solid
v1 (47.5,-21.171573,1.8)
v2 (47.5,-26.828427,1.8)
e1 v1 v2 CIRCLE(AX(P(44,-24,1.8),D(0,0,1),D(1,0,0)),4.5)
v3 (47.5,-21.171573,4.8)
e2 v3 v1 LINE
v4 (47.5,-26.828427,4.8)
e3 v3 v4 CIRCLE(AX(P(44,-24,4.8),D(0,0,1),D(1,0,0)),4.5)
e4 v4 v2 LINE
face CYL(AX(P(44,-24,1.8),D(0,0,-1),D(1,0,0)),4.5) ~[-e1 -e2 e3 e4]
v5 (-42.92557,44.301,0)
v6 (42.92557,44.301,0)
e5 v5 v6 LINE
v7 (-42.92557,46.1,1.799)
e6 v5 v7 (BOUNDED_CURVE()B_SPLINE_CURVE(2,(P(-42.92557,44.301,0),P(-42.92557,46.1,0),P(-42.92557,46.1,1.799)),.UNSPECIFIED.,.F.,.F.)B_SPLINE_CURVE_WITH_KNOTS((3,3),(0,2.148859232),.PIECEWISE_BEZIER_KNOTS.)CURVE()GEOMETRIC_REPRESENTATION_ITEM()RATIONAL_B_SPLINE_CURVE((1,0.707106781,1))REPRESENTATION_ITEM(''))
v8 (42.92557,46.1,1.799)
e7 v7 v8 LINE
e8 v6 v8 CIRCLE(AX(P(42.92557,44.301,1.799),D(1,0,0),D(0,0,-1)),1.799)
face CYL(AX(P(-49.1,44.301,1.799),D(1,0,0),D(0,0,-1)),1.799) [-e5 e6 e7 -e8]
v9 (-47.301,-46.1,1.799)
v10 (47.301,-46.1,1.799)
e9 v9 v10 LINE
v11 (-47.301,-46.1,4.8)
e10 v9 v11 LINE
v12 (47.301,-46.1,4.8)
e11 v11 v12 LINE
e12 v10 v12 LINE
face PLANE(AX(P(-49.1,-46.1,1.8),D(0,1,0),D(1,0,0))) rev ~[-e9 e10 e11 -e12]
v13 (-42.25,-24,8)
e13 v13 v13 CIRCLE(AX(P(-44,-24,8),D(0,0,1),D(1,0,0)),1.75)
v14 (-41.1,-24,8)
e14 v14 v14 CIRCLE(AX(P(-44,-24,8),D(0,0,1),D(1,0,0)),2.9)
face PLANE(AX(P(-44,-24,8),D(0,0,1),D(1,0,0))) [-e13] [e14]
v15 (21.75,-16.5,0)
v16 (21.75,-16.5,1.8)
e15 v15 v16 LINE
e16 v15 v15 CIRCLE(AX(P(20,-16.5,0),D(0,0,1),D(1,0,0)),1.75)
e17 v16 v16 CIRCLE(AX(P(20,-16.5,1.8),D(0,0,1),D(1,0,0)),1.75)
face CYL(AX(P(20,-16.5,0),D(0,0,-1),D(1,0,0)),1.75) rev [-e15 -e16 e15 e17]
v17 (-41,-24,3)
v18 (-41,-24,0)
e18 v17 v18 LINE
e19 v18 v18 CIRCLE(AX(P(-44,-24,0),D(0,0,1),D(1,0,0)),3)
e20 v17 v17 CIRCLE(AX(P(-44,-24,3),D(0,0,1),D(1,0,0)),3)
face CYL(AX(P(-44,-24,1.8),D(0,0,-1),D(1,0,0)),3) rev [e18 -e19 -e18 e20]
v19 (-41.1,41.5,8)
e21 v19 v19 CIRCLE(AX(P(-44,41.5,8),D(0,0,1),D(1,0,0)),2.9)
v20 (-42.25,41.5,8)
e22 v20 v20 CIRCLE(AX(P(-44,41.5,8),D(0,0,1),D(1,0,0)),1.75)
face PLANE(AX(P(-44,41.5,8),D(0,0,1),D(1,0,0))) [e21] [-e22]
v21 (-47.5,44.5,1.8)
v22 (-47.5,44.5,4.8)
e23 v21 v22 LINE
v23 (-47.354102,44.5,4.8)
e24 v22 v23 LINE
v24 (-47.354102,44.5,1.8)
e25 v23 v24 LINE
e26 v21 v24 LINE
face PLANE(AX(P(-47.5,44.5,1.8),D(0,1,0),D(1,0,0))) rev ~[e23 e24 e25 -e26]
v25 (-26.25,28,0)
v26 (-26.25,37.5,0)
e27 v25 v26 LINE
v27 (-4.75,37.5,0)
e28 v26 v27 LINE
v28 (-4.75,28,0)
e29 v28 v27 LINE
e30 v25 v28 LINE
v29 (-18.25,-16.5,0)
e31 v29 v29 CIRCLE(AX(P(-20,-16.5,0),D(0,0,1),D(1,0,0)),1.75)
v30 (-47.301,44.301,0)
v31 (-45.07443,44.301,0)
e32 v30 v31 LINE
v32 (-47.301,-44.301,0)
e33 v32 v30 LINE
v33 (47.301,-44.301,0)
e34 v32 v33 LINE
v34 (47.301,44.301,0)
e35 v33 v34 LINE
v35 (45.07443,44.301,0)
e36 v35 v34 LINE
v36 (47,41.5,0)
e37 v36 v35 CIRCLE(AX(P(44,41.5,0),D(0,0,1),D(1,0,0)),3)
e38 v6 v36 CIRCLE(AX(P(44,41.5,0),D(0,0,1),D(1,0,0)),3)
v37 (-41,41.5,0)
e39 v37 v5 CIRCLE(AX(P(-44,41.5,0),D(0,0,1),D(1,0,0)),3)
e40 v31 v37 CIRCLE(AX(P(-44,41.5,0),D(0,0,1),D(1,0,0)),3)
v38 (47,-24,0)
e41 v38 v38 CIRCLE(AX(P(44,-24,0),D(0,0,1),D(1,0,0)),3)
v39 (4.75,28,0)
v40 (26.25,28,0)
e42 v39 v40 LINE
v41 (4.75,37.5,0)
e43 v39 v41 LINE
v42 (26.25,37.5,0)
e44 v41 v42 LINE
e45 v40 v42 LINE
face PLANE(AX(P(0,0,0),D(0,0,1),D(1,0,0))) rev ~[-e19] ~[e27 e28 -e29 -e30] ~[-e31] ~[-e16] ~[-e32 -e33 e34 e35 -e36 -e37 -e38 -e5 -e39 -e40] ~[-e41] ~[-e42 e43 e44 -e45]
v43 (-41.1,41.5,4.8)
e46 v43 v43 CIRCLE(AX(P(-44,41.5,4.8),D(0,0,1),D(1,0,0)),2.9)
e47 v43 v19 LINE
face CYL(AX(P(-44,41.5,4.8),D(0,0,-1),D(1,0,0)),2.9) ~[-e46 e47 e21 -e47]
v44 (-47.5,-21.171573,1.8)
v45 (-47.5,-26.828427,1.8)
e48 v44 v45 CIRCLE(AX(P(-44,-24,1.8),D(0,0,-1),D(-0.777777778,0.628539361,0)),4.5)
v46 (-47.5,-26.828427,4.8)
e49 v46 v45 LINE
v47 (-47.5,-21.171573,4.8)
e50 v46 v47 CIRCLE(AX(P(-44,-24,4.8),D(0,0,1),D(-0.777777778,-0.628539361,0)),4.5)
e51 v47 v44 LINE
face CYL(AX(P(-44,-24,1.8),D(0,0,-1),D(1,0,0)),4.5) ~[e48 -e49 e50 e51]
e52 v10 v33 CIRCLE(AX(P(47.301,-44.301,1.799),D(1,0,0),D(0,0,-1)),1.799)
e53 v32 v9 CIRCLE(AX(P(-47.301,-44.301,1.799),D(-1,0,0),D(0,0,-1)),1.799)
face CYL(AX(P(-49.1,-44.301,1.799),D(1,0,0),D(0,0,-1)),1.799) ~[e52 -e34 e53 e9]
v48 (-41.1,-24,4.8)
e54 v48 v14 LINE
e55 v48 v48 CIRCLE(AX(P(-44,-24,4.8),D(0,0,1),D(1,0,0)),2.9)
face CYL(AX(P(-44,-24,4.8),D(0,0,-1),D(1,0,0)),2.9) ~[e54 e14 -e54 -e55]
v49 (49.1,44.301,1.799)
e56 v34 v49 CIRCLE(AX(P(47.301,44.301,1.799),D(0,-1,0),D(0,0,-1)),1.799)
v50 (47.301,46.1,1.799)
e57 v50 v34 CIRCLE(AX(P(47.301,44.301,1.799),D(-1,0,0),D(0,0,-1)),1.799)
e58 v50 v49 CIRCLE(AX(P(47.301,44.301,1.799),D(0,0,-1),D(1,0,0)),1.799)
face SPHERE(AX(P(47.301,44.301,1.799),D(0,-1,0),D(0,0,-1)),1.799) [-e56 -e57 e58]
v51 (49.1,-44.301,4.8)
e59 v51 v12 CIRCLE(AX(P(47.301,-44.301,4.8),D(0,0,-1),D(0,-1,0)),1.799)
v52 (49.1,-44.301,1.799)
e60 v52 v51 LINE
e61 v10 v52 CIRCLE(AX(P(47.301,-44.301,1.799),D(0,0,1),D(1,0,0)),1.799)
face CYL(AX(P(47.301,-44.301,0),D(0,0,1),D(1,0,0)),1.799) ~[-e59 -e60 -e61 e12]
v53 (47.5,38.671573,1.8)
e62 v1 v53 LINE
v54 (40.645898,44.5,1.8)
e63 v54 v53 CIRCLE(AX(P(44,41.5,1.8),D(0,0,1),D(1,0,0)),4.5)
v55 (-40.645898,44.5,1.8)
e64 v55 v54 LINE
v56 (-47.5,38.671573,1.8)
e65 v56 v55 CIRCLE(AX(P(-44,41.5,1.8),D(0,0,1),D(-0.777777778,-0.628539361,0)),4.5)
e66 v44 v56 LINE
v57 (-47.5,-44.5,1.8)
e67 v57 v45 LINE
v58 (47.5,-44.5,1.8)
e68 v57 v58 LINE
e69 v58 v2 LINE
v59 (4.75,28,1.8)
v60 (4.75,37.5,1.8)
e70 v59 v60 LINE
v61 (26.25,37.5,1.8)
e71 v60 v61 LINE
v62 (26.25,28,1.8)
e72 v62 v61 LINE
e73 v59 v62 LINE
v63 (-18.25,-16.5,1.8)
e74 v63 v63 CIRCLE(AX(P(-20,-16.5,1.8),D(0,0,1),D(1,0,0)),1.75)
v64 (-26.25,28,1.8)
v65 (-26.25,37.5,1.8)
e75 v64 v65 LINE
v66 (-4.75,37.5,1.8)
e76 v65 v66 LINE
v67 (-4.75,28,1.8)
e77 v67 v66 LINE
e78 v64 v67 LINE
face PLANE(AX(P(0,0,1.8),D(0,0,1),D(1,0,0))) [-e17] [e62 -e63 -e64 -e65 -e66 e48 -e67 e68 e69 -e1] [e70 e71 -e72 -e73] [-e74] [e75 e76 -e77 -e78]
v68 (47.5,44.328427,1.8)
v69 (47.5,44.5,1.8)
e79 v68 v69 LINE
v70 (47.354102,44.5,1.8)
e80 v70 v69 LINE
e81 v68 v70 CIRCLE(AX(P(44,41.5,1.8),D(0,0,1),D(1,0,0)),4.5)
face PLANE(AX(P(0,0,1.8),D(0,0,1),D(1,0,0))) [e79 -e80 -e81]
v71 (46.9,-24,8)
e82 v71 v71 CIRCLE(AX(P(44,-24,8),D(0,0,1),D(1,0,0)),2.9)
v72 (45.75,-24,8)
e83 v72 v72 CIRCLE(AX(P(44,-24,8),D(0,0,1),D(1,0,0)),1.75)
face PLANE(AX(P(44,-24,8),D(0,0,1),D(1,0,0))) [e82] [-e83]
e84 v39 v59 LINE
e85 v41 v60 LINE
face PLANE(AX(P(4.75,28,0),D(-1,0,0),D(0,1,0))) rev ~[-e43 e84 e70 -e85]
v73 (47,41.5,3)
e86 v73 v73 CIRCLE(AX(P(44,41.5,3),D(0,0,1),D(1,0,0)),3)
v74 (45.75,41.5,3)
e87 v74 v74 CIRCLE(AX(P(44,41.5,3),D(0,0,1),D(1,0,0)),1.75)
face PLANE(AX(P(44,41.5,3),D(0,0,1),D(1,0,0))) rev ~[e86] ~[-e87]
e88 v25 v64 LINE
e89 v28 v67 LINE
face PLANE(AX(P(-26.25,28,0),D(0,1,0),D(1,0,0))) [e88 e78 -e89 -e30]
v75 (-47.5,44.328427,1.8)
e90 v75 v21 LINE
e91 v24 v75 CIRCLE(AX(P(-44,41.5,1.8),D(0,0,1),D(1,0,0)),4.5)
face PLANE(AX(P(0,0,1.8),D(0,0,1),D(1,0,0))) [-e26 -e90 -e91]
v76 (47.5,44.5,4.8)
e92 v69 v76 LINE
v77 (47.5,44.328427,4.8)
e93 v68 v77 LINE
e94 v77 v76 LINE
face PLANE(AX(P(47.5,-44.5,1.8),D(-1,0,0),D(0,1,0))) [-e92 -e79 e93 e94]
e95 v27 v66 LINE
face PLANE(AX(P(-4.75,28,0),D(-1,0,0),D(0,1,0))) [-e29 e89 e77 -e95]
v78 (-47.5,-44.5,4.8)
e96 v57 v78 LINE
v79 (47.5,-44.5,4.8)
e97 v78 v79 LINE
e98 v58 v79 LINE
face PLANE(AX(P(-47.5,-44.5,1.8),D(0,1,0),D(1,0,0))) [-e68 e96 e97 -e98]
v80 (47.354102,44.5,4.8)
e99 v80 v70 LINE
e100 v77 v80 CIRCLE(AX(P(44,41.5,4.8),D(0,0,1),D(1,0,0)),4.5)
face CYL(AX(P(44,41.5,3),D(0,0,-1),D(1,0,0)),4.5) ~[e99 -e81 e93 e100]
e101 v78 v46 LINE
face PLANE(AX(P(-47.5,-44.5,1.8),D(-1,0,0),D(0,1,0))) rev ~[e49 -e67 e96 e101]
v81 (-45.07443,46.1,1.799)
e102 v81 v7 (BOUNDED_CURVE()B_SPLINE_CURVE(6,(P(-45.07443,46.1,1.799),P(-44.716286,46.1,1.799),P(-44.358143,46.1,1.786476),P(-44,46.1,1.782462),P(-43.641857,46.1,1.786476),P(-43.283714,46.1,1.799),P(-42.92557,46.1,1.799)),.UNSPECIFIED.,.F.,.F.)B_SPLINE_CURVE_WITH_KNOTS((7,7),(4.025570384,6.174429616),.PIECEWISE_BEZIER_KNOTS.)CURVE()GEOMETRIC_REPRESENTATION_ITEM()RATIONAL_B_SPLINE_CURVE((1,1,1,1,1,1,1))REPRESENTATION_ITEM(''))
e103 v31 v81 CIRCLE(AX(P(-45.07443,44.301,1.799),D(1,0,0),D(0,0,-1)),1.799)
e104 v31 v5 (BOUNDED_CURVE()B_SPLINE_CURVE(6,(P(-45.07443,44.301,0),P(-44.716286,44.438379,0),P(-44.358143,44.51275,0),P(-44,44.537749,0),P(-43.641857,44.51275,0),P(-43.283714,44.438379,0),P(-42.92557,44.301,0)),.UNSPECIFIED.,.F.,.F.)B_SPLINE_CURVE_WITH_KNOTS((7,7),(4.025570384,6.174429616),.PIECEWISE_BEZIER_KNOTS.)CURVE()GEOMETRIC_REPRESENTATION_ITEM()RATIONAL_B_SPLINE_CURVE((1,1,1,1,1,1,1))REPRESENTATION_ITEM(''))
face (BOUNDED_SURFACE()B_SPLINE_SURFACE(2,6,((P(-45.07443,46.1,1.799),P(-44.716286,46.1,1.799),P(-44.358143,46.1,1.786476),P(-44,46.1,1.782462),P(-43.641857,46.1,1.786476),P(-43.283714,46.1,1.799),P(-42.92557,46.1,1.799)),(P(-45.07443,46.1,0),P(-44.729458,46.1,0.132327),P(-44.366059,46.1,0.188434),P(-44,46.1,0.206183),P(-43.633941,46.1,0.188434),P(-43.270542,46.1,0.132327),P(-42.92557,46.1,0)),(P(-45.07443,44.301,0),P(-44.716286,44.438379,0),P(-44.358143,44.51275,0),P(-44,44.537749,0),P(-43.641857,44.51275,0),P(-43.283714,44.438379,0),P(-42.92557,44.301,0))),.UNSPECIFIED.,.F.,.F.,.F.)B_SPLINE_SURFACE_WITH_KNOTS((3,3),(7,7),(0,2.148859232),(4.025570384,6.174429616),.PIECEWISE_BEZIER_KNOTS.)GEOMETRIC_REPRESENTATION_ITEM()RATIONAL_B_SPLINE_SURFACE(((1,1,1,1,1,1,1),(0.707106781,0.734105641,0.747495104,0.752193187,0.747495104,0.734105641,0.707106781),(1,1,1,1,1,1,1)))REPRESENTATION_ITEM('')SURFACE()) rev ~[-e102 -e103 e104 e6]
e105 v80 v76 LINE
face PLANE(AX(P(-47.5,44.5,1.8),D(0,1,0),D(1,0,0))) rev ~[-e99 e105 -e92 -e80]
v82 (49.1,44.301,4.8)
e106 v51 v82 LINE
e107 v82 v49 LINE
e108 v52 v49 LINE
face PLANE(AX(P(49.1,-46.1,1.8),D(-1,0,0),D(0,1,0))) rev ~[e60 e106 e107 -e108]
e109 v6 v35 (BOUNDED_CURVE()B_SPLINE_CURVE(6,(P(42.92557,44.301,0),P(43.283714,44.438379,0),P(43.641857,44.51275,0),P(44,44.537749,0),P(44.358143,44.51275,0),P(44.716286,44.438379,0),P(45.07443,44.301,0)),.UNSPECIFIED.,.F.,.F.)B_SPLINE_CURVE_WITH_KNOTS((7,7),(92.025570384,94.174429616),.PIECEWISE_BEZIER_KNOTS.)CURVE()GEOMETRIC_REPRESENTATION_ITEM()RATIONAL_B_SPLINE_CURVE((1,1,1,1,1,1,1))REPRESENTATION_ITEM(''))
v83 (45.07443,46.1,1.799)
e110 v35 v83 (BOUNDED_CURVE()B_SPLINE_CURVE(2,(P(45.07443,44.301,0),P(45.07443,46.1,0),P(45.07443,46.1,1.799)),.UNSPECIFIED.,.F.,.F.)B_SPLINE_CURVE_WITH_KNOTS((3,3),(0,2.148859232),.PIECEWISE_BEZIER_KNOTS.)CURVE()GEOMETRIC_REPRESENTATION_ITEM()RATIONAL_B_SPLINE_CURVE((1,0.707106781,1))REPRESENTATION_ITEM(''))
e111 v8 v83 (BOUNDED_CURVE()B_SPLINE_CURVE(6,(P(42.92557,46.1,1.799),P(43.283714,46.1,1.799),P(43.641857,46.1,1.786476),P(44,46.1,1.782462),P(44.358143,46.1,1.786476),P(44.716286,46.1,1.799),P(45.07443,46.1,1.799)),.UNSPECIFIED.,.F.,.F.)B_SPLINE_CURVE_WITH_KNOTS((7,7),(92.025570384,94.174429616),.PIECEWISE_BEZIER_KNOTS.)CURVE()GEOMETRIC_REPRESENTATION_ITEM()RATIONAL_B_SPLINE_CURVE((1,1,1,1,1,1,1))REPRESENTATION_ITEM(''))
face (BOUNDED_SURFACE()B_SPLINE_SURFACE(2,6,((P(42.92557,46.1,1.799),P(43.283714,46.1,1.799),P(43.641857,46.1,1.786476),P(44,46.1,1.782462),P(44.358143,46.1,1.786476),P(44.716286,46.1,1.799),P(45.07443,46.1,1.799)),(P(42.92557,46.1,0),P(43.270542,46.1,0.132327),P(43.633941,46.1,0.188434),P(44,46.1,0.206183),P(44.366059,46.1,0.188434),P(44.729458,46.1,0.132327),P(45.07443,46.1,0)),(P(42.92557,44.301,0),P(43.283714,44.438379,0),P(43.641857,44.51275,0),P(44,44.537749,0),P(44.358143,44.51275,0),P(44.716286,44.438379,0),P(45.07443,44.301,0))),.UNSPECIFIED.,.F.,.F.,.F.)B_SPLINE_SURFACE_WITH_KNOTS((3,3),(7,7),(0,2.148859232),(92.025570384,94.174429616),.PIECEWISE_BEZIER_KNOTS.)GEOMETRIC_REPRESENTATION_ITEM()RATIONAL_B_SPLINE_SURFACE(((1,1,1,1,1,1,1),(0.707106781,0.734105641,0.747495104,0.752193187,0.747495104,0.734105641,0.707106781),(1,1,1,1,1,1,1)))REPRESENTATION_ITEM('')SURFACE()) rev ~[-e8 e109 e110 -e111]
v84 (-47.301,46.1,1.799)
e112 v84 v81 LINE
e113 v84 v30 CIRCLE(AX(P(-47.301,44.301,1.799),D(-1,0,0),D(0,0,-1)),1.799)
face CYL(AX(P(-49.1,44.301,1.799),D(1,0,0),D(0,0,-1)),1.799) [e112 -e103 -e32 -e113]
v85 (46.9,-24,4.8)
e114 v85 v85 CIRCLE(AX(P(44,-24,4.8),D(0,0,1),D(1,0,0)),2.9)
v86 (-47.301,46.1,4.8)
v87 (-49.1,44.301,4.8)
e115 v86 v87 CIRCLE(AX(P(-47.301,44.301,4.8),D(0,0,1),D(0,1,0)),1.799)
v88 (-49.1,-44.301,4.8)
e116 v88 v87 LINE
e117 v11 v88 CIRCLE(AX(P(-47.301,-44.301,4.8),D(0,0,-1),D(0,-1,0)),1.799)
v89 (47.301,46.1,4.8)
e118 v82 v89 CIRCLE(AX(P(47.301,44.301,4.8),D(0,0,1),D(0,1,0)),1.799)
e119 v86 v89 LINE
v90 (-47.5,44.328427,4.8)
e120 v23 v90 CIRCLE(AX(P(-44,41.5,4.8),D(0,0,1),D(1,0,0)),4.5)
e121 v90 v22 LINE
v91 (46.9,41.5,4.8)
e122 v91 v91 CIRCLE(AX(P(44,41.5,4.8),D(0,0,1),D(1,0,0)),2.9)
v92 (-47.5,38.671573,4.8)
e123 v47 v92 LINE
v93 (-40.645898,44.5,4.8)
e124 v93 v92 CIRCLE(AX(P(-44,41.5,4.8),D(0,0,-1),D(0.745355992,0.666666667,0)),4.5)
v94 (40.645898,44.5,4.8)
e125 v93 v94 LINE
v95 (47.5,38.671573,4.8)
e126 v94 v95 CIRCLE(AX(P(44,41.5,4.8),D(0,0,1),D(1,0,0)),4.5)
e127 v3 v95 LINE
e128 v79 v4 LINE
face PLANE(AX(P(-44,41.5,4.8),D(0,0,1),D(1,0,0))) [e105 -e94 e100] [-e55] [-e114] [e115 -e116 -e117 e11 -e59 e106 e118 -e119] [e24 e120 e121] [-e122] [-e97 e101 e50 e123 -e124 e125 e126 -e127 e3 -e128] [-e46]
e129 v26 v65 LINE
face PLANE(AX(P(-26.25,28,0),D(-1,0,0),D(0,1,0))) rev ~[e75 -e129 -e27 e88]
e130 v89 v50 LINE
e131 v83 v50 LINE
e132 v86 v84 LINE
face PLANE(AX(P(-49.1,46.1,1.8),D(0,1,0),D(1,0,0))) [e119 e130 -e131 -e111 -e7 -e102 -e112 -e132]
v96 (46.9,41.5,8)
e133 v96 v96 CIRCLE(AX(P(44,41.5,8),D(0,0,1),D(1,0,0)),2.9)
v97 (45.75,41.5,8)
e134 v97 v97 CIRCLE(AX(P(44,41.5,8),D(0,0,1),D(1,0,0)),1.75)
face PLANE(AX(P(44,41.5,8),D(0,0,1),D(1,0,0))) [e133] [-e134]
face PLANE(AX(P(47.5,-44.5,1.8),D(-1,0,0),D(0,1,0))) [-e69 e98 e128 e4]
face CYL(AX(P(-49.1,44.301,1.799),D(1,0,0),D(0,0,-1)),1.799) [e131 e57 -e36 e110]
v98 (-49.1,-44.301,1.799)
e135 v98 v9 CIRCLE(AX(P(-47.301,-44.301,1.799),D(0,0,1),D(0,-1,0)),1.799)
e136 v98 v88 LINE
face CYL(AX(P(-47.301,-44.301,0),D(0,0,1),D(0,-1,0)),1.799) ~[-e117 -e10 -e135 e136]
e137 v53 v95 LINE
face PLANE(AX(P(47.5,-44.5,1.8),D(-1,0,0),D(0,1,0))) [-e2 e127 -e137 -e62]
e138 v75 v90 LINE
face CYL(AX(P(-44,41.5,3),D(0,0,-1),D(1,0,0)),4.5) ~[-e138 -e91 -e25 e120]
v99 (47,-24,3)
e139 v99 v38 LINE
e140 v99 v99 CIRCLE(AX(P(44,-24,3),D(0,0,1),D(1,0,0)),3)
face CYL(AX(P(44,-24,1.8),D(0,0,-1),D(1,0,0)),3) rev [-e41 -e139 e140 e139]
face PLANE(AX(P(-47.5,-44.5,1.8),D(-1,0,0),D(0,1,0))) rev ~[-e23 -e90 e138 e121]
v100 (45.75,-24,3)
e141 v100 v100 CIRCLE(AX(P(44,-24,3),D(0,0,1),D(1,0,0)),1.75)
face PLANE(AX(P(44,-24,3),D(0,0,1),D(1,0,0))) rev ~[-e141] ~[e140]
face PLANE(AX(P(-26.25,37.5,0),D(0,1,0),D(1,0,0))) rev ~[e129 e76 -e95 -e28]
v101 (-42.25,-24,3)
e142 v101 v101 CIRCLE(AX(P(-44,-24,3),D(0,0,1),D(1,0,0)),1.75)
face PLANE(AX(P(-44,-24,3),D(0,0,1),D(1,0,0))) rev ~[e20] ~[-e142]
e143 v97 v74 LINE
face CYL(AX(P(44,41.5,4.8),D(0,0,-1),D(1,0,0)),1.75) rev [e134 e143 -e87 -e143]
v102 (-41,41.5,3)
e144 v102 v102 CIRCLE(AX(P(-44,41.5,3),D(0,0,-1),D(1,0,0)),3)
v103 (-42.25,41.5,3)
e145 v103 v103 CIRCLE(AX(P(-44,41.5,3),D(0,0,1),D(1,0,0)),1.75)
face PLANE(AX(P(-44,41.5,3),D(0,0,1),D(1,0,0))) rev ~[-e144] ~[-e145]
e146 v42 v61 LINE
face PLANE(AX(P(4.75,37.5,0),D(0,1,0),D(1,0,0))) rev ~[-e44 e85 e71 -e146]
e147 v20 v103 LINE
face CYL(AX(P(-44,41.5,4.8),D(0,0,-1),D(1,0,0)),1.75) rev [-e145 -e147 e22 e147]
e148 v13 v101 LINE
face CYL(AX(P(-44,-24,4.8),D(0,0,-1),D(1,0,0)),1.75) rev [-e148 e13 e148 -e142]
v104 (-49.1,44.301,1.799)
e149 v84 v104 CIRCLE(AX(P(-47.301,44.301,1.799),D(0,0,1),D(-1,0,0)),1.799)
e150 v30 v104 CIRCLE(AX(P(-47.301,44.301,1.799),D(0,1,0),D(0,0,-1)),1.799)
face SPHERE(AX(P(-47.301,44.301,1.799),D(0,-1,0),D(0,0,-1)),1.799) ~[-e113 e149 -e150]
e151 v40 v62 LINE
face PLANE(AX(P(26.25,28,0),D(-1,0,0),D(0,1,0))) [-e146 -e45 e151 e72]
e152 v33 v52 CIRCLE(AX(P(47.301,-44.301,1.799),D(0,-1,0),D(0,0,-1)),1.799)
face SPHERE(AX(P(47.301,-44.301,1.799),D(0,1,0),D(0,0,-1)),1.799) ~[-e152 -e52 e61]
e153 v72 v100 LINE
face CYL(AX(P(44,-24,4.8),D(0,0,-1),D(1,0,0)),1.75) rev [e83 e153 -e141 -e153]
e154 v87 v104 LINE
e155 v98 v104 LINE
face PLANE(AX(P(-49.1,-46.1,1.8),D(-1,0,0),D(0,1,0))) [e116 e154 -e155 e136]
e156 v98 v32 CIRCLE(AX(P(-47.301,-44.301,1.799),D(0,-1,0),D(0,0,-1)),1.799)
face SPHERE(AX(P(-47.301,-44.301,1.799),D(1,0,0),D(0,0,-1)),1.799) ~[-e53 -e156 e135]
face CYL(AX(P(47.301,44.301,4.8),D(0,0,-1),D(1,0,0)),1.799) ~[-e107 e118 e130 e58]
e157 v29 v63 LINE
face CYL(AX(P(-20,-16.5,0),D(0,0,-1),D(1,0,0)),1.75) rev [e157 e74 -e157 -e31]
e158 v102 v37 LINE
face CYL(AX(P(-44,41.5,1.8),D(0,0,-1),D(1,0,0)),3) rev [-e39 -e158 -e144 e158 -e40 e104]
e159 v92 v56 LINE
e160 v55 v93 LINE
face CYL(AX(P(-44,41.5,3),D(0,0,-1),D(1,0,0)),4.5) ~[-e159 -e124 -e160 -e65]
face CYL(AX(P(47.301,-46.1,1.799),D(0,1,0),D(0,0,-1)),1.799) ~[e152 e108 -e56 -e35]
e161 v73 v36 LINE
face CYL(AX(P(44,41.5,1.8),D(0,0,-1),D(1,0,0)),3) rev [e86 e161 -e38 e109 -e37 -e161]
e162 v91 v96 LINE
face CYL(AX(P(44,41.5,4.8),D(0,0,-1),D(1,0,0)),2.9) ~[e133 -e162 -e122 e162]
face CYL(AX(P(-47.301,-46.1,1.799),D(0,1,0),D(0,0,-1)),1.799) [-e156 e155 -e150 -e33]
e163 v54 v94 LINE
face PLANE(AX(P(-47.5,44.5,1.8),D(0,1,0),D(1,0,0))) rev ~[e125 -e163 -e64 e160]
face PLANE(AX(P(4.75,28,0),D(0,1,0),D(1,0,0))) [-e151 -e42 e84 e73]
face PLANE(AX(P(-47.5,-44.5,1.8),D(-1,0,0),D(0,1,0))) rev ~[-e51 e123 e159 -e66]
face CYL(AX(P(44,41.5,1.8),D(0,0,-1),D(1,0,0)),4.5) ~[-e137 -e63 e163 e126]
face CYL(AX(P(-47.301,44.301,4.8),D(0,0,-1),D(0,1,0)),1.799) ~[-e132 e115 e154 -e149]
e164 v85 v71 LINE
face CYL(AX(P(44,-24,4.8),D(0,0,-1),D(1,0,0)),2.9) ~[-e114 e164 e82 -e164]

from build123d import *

# Parameters (mm, degrees)
SKETCH007_W   = 98.2
SKETCH007_H   = 92.2
SKETCH007_R   = 3
SKETCH007_R_2 = 1.75
SKETCH007_W_2 = 21.5
SKETCH007_H_2 = 9.5
PAD006_DEPTH  = 1.8
SKETCH005_W   = 98.2
SKETCH005_H   = 92.2
SKETCH005_W_2 = 95
SKETCH005_H_2 = 89
PAD007_DEPTH  = 3
SKETCH008_R   = 4.5
SKETCH008_R_2 = 3
PAD008_DEPTH  = 1.2
SKETCH009_R   = 4.5
SKETCH009_R_2 = 1.75
PAD009_DEPTH  = 1.8
SKETCH006_R   = 2.9
SKETCH006_R_2 = 1.75
PAD010_DEPTH  = 3.2
FILLET002_R   = 1.799


with BuildPart() as part:
    # Sketch007 → Pad006 (new body)
    with BuildSketch(Plane.XY):
        Rectangle(SKETCH007_W, SKETCH007_H)
        with Locations((-44, 41.5)):
            Circle(SKETCH007_R, mode=Mode.SUBTRACT)
        with Locations((44, 41.5)):
            Circle(SKETCH007_R, mode=Mode.SUBTRACT)
        with Locations((44, -24)):
            Circle(SKETCH007_R, mode=Mode.SUBTRACT)
        with Locations((-44, -24)):
            Circle(SKETCH007_R, mode=Mode.SUBTRACT)
        with Locations((-20, -16.5)):
            Circle(SKETCH007_R_2, mode=Mode.SUBTRACT)
        with Locations((20, -16.5)):
            Circle(SKETCH007_R_2, mode=Mode.SUBTRACT)
        with Locations((15.5, 32.75)):
            Rectangle(SKETCH007_W_2, SKETCH007_H_2, mode=Mode.SUBTRACT)
        with Locations((-15.5, 32.75)):
            Rectangle(SKETCH007_W_2, SKETCH007_H_2, mode=Mode.SUBTRACT)
    extrude(amount=PAD006_DEPTH)

    # Sketch005 → Pad007 (new body)
    with BuildSketch(Plane.XY.offset(1.8)):
        Rectangle(SKETCH005_W, SKETCH005_H)
        Rectangle(SKETCH005_W_2, SKETCH005_H_2, mode=Mode.SUBTRACT)
    extrude(amount=PAD007_DEPTH)

    # Sketch008 → Pad008 (new body)
    with BuildSketch(Plane.XY.offset(1.8)):
        with Locations((-44, 41.5)):
            Circle(SKETCH008_R)
        with Locations((-44, 41.5)):
            Circle(SKETCH008_R_2, mode=Mode.SUBTRACT)
        with Locations((44, 41.5)):
            Circle(SKETCH008_R)
        with Locations((44, 41.5)):
            Circle(SKETCH008_R_2, mode=Mode.SUBTRACT)
        with Locations((44, -24)):
            Circle(SKETCH008_R)
        with Locations((44, -24)):
            Circle(SKETCH008_R_2, mode=Mode.SUBTRACT)
        with Locations((-44, -24)):
            Circle(SKETCH008_R)
        with Locations((-44, -24)):
            Circle(SKETCH008_R_2, mode=Mode.SUBTRACT)
    extrude(amount=PAD008_DEPTH)

    # Sketch009 → Pad009 (new body)
    with BuildSketch(Plane.XY.offset(3)):
        with Locations((-44, 41.5)):
            Circle(SKETCH009_R)
        with Locations((-44, 41.5)):
            Circle(SKETCH009_R_2, mode=Mode.SUBTRACT)
        with Locations((44, 41.5)):
            Circle(SKETCH009_R)
        with Locations((44, 41.5)):
            Circle(SKETCH009_R_2, mode=Mode.SUBTRACT)
        with Locations((44, -24)):
            Circle(SKETCH009_R)
        with Locations((44, -24)):
            Circle(SKETCH009_R_2, mode=Mode.SUBTRACT)
        with Locations((-44, -24)):
            Circle(SKETCH009_R)
        with Locations((-44, -24)):
            Circle(SKETCH009_R_2, mode=Mode.SUBTRACT)
    extrude(amount=PAD009_DEPTH)

    # Sketch006 → Pad010 (new body)
    with BuildSketch(Plane.XY.offset(4.8)):
        with Locations((-44, 41.5)):
            Circle(SKETCH006_R)
        with Locations((-44, 41.5)):
            Circle(SKETCH006_R_2, mode=Mode.SUBTRACT)
        with Locations((44, 41.5)):
            Circle(SKETCH006_R)
        with Locations((44, 41.5)):
            Circle(SKETCH006_R_2, mode=Mode.SUBTRACT)
        with Locations((44, -24)):
            Circle(SKETCH006_R)
        with Locations((44, -24)):
            Circle(SKETCH006_R_2, mode=Mode.SUBTRACT)
        with Locations((-44, -24)):
            Circle(SKETCH006_R)
        with Locations((-44, -24)):
            Circle(SKETCH006_R_2, mode=Mode.SUBTRACT)
    extrude(amount=PAD010_DEPTH)

    # Fillet002
    fillet002_edges = [part.edges().sort_by_distance(p)[0] for p in [
        (49.1, 0, 0),
        (0, -46.1, 0),
        (-49.1, 0, 0),
        (0, 46.1, 0),
        (-49.1, 46.1, 0.9),
        (-49.1, 46.1, 3.3),
        (-49.1, -46.1, 3.3),
        (-49.1, -46.1, 0.9),
        (49.1, -46.1, 3.3),
        (49.1, -46.1, 0.9),
        (49.1, 46.1, 0.9),
        (49.1, 46.1, 3.3),
    ]]
    fillet(fillet002_edges, radius=FILLET002_R)


solid = part.part
